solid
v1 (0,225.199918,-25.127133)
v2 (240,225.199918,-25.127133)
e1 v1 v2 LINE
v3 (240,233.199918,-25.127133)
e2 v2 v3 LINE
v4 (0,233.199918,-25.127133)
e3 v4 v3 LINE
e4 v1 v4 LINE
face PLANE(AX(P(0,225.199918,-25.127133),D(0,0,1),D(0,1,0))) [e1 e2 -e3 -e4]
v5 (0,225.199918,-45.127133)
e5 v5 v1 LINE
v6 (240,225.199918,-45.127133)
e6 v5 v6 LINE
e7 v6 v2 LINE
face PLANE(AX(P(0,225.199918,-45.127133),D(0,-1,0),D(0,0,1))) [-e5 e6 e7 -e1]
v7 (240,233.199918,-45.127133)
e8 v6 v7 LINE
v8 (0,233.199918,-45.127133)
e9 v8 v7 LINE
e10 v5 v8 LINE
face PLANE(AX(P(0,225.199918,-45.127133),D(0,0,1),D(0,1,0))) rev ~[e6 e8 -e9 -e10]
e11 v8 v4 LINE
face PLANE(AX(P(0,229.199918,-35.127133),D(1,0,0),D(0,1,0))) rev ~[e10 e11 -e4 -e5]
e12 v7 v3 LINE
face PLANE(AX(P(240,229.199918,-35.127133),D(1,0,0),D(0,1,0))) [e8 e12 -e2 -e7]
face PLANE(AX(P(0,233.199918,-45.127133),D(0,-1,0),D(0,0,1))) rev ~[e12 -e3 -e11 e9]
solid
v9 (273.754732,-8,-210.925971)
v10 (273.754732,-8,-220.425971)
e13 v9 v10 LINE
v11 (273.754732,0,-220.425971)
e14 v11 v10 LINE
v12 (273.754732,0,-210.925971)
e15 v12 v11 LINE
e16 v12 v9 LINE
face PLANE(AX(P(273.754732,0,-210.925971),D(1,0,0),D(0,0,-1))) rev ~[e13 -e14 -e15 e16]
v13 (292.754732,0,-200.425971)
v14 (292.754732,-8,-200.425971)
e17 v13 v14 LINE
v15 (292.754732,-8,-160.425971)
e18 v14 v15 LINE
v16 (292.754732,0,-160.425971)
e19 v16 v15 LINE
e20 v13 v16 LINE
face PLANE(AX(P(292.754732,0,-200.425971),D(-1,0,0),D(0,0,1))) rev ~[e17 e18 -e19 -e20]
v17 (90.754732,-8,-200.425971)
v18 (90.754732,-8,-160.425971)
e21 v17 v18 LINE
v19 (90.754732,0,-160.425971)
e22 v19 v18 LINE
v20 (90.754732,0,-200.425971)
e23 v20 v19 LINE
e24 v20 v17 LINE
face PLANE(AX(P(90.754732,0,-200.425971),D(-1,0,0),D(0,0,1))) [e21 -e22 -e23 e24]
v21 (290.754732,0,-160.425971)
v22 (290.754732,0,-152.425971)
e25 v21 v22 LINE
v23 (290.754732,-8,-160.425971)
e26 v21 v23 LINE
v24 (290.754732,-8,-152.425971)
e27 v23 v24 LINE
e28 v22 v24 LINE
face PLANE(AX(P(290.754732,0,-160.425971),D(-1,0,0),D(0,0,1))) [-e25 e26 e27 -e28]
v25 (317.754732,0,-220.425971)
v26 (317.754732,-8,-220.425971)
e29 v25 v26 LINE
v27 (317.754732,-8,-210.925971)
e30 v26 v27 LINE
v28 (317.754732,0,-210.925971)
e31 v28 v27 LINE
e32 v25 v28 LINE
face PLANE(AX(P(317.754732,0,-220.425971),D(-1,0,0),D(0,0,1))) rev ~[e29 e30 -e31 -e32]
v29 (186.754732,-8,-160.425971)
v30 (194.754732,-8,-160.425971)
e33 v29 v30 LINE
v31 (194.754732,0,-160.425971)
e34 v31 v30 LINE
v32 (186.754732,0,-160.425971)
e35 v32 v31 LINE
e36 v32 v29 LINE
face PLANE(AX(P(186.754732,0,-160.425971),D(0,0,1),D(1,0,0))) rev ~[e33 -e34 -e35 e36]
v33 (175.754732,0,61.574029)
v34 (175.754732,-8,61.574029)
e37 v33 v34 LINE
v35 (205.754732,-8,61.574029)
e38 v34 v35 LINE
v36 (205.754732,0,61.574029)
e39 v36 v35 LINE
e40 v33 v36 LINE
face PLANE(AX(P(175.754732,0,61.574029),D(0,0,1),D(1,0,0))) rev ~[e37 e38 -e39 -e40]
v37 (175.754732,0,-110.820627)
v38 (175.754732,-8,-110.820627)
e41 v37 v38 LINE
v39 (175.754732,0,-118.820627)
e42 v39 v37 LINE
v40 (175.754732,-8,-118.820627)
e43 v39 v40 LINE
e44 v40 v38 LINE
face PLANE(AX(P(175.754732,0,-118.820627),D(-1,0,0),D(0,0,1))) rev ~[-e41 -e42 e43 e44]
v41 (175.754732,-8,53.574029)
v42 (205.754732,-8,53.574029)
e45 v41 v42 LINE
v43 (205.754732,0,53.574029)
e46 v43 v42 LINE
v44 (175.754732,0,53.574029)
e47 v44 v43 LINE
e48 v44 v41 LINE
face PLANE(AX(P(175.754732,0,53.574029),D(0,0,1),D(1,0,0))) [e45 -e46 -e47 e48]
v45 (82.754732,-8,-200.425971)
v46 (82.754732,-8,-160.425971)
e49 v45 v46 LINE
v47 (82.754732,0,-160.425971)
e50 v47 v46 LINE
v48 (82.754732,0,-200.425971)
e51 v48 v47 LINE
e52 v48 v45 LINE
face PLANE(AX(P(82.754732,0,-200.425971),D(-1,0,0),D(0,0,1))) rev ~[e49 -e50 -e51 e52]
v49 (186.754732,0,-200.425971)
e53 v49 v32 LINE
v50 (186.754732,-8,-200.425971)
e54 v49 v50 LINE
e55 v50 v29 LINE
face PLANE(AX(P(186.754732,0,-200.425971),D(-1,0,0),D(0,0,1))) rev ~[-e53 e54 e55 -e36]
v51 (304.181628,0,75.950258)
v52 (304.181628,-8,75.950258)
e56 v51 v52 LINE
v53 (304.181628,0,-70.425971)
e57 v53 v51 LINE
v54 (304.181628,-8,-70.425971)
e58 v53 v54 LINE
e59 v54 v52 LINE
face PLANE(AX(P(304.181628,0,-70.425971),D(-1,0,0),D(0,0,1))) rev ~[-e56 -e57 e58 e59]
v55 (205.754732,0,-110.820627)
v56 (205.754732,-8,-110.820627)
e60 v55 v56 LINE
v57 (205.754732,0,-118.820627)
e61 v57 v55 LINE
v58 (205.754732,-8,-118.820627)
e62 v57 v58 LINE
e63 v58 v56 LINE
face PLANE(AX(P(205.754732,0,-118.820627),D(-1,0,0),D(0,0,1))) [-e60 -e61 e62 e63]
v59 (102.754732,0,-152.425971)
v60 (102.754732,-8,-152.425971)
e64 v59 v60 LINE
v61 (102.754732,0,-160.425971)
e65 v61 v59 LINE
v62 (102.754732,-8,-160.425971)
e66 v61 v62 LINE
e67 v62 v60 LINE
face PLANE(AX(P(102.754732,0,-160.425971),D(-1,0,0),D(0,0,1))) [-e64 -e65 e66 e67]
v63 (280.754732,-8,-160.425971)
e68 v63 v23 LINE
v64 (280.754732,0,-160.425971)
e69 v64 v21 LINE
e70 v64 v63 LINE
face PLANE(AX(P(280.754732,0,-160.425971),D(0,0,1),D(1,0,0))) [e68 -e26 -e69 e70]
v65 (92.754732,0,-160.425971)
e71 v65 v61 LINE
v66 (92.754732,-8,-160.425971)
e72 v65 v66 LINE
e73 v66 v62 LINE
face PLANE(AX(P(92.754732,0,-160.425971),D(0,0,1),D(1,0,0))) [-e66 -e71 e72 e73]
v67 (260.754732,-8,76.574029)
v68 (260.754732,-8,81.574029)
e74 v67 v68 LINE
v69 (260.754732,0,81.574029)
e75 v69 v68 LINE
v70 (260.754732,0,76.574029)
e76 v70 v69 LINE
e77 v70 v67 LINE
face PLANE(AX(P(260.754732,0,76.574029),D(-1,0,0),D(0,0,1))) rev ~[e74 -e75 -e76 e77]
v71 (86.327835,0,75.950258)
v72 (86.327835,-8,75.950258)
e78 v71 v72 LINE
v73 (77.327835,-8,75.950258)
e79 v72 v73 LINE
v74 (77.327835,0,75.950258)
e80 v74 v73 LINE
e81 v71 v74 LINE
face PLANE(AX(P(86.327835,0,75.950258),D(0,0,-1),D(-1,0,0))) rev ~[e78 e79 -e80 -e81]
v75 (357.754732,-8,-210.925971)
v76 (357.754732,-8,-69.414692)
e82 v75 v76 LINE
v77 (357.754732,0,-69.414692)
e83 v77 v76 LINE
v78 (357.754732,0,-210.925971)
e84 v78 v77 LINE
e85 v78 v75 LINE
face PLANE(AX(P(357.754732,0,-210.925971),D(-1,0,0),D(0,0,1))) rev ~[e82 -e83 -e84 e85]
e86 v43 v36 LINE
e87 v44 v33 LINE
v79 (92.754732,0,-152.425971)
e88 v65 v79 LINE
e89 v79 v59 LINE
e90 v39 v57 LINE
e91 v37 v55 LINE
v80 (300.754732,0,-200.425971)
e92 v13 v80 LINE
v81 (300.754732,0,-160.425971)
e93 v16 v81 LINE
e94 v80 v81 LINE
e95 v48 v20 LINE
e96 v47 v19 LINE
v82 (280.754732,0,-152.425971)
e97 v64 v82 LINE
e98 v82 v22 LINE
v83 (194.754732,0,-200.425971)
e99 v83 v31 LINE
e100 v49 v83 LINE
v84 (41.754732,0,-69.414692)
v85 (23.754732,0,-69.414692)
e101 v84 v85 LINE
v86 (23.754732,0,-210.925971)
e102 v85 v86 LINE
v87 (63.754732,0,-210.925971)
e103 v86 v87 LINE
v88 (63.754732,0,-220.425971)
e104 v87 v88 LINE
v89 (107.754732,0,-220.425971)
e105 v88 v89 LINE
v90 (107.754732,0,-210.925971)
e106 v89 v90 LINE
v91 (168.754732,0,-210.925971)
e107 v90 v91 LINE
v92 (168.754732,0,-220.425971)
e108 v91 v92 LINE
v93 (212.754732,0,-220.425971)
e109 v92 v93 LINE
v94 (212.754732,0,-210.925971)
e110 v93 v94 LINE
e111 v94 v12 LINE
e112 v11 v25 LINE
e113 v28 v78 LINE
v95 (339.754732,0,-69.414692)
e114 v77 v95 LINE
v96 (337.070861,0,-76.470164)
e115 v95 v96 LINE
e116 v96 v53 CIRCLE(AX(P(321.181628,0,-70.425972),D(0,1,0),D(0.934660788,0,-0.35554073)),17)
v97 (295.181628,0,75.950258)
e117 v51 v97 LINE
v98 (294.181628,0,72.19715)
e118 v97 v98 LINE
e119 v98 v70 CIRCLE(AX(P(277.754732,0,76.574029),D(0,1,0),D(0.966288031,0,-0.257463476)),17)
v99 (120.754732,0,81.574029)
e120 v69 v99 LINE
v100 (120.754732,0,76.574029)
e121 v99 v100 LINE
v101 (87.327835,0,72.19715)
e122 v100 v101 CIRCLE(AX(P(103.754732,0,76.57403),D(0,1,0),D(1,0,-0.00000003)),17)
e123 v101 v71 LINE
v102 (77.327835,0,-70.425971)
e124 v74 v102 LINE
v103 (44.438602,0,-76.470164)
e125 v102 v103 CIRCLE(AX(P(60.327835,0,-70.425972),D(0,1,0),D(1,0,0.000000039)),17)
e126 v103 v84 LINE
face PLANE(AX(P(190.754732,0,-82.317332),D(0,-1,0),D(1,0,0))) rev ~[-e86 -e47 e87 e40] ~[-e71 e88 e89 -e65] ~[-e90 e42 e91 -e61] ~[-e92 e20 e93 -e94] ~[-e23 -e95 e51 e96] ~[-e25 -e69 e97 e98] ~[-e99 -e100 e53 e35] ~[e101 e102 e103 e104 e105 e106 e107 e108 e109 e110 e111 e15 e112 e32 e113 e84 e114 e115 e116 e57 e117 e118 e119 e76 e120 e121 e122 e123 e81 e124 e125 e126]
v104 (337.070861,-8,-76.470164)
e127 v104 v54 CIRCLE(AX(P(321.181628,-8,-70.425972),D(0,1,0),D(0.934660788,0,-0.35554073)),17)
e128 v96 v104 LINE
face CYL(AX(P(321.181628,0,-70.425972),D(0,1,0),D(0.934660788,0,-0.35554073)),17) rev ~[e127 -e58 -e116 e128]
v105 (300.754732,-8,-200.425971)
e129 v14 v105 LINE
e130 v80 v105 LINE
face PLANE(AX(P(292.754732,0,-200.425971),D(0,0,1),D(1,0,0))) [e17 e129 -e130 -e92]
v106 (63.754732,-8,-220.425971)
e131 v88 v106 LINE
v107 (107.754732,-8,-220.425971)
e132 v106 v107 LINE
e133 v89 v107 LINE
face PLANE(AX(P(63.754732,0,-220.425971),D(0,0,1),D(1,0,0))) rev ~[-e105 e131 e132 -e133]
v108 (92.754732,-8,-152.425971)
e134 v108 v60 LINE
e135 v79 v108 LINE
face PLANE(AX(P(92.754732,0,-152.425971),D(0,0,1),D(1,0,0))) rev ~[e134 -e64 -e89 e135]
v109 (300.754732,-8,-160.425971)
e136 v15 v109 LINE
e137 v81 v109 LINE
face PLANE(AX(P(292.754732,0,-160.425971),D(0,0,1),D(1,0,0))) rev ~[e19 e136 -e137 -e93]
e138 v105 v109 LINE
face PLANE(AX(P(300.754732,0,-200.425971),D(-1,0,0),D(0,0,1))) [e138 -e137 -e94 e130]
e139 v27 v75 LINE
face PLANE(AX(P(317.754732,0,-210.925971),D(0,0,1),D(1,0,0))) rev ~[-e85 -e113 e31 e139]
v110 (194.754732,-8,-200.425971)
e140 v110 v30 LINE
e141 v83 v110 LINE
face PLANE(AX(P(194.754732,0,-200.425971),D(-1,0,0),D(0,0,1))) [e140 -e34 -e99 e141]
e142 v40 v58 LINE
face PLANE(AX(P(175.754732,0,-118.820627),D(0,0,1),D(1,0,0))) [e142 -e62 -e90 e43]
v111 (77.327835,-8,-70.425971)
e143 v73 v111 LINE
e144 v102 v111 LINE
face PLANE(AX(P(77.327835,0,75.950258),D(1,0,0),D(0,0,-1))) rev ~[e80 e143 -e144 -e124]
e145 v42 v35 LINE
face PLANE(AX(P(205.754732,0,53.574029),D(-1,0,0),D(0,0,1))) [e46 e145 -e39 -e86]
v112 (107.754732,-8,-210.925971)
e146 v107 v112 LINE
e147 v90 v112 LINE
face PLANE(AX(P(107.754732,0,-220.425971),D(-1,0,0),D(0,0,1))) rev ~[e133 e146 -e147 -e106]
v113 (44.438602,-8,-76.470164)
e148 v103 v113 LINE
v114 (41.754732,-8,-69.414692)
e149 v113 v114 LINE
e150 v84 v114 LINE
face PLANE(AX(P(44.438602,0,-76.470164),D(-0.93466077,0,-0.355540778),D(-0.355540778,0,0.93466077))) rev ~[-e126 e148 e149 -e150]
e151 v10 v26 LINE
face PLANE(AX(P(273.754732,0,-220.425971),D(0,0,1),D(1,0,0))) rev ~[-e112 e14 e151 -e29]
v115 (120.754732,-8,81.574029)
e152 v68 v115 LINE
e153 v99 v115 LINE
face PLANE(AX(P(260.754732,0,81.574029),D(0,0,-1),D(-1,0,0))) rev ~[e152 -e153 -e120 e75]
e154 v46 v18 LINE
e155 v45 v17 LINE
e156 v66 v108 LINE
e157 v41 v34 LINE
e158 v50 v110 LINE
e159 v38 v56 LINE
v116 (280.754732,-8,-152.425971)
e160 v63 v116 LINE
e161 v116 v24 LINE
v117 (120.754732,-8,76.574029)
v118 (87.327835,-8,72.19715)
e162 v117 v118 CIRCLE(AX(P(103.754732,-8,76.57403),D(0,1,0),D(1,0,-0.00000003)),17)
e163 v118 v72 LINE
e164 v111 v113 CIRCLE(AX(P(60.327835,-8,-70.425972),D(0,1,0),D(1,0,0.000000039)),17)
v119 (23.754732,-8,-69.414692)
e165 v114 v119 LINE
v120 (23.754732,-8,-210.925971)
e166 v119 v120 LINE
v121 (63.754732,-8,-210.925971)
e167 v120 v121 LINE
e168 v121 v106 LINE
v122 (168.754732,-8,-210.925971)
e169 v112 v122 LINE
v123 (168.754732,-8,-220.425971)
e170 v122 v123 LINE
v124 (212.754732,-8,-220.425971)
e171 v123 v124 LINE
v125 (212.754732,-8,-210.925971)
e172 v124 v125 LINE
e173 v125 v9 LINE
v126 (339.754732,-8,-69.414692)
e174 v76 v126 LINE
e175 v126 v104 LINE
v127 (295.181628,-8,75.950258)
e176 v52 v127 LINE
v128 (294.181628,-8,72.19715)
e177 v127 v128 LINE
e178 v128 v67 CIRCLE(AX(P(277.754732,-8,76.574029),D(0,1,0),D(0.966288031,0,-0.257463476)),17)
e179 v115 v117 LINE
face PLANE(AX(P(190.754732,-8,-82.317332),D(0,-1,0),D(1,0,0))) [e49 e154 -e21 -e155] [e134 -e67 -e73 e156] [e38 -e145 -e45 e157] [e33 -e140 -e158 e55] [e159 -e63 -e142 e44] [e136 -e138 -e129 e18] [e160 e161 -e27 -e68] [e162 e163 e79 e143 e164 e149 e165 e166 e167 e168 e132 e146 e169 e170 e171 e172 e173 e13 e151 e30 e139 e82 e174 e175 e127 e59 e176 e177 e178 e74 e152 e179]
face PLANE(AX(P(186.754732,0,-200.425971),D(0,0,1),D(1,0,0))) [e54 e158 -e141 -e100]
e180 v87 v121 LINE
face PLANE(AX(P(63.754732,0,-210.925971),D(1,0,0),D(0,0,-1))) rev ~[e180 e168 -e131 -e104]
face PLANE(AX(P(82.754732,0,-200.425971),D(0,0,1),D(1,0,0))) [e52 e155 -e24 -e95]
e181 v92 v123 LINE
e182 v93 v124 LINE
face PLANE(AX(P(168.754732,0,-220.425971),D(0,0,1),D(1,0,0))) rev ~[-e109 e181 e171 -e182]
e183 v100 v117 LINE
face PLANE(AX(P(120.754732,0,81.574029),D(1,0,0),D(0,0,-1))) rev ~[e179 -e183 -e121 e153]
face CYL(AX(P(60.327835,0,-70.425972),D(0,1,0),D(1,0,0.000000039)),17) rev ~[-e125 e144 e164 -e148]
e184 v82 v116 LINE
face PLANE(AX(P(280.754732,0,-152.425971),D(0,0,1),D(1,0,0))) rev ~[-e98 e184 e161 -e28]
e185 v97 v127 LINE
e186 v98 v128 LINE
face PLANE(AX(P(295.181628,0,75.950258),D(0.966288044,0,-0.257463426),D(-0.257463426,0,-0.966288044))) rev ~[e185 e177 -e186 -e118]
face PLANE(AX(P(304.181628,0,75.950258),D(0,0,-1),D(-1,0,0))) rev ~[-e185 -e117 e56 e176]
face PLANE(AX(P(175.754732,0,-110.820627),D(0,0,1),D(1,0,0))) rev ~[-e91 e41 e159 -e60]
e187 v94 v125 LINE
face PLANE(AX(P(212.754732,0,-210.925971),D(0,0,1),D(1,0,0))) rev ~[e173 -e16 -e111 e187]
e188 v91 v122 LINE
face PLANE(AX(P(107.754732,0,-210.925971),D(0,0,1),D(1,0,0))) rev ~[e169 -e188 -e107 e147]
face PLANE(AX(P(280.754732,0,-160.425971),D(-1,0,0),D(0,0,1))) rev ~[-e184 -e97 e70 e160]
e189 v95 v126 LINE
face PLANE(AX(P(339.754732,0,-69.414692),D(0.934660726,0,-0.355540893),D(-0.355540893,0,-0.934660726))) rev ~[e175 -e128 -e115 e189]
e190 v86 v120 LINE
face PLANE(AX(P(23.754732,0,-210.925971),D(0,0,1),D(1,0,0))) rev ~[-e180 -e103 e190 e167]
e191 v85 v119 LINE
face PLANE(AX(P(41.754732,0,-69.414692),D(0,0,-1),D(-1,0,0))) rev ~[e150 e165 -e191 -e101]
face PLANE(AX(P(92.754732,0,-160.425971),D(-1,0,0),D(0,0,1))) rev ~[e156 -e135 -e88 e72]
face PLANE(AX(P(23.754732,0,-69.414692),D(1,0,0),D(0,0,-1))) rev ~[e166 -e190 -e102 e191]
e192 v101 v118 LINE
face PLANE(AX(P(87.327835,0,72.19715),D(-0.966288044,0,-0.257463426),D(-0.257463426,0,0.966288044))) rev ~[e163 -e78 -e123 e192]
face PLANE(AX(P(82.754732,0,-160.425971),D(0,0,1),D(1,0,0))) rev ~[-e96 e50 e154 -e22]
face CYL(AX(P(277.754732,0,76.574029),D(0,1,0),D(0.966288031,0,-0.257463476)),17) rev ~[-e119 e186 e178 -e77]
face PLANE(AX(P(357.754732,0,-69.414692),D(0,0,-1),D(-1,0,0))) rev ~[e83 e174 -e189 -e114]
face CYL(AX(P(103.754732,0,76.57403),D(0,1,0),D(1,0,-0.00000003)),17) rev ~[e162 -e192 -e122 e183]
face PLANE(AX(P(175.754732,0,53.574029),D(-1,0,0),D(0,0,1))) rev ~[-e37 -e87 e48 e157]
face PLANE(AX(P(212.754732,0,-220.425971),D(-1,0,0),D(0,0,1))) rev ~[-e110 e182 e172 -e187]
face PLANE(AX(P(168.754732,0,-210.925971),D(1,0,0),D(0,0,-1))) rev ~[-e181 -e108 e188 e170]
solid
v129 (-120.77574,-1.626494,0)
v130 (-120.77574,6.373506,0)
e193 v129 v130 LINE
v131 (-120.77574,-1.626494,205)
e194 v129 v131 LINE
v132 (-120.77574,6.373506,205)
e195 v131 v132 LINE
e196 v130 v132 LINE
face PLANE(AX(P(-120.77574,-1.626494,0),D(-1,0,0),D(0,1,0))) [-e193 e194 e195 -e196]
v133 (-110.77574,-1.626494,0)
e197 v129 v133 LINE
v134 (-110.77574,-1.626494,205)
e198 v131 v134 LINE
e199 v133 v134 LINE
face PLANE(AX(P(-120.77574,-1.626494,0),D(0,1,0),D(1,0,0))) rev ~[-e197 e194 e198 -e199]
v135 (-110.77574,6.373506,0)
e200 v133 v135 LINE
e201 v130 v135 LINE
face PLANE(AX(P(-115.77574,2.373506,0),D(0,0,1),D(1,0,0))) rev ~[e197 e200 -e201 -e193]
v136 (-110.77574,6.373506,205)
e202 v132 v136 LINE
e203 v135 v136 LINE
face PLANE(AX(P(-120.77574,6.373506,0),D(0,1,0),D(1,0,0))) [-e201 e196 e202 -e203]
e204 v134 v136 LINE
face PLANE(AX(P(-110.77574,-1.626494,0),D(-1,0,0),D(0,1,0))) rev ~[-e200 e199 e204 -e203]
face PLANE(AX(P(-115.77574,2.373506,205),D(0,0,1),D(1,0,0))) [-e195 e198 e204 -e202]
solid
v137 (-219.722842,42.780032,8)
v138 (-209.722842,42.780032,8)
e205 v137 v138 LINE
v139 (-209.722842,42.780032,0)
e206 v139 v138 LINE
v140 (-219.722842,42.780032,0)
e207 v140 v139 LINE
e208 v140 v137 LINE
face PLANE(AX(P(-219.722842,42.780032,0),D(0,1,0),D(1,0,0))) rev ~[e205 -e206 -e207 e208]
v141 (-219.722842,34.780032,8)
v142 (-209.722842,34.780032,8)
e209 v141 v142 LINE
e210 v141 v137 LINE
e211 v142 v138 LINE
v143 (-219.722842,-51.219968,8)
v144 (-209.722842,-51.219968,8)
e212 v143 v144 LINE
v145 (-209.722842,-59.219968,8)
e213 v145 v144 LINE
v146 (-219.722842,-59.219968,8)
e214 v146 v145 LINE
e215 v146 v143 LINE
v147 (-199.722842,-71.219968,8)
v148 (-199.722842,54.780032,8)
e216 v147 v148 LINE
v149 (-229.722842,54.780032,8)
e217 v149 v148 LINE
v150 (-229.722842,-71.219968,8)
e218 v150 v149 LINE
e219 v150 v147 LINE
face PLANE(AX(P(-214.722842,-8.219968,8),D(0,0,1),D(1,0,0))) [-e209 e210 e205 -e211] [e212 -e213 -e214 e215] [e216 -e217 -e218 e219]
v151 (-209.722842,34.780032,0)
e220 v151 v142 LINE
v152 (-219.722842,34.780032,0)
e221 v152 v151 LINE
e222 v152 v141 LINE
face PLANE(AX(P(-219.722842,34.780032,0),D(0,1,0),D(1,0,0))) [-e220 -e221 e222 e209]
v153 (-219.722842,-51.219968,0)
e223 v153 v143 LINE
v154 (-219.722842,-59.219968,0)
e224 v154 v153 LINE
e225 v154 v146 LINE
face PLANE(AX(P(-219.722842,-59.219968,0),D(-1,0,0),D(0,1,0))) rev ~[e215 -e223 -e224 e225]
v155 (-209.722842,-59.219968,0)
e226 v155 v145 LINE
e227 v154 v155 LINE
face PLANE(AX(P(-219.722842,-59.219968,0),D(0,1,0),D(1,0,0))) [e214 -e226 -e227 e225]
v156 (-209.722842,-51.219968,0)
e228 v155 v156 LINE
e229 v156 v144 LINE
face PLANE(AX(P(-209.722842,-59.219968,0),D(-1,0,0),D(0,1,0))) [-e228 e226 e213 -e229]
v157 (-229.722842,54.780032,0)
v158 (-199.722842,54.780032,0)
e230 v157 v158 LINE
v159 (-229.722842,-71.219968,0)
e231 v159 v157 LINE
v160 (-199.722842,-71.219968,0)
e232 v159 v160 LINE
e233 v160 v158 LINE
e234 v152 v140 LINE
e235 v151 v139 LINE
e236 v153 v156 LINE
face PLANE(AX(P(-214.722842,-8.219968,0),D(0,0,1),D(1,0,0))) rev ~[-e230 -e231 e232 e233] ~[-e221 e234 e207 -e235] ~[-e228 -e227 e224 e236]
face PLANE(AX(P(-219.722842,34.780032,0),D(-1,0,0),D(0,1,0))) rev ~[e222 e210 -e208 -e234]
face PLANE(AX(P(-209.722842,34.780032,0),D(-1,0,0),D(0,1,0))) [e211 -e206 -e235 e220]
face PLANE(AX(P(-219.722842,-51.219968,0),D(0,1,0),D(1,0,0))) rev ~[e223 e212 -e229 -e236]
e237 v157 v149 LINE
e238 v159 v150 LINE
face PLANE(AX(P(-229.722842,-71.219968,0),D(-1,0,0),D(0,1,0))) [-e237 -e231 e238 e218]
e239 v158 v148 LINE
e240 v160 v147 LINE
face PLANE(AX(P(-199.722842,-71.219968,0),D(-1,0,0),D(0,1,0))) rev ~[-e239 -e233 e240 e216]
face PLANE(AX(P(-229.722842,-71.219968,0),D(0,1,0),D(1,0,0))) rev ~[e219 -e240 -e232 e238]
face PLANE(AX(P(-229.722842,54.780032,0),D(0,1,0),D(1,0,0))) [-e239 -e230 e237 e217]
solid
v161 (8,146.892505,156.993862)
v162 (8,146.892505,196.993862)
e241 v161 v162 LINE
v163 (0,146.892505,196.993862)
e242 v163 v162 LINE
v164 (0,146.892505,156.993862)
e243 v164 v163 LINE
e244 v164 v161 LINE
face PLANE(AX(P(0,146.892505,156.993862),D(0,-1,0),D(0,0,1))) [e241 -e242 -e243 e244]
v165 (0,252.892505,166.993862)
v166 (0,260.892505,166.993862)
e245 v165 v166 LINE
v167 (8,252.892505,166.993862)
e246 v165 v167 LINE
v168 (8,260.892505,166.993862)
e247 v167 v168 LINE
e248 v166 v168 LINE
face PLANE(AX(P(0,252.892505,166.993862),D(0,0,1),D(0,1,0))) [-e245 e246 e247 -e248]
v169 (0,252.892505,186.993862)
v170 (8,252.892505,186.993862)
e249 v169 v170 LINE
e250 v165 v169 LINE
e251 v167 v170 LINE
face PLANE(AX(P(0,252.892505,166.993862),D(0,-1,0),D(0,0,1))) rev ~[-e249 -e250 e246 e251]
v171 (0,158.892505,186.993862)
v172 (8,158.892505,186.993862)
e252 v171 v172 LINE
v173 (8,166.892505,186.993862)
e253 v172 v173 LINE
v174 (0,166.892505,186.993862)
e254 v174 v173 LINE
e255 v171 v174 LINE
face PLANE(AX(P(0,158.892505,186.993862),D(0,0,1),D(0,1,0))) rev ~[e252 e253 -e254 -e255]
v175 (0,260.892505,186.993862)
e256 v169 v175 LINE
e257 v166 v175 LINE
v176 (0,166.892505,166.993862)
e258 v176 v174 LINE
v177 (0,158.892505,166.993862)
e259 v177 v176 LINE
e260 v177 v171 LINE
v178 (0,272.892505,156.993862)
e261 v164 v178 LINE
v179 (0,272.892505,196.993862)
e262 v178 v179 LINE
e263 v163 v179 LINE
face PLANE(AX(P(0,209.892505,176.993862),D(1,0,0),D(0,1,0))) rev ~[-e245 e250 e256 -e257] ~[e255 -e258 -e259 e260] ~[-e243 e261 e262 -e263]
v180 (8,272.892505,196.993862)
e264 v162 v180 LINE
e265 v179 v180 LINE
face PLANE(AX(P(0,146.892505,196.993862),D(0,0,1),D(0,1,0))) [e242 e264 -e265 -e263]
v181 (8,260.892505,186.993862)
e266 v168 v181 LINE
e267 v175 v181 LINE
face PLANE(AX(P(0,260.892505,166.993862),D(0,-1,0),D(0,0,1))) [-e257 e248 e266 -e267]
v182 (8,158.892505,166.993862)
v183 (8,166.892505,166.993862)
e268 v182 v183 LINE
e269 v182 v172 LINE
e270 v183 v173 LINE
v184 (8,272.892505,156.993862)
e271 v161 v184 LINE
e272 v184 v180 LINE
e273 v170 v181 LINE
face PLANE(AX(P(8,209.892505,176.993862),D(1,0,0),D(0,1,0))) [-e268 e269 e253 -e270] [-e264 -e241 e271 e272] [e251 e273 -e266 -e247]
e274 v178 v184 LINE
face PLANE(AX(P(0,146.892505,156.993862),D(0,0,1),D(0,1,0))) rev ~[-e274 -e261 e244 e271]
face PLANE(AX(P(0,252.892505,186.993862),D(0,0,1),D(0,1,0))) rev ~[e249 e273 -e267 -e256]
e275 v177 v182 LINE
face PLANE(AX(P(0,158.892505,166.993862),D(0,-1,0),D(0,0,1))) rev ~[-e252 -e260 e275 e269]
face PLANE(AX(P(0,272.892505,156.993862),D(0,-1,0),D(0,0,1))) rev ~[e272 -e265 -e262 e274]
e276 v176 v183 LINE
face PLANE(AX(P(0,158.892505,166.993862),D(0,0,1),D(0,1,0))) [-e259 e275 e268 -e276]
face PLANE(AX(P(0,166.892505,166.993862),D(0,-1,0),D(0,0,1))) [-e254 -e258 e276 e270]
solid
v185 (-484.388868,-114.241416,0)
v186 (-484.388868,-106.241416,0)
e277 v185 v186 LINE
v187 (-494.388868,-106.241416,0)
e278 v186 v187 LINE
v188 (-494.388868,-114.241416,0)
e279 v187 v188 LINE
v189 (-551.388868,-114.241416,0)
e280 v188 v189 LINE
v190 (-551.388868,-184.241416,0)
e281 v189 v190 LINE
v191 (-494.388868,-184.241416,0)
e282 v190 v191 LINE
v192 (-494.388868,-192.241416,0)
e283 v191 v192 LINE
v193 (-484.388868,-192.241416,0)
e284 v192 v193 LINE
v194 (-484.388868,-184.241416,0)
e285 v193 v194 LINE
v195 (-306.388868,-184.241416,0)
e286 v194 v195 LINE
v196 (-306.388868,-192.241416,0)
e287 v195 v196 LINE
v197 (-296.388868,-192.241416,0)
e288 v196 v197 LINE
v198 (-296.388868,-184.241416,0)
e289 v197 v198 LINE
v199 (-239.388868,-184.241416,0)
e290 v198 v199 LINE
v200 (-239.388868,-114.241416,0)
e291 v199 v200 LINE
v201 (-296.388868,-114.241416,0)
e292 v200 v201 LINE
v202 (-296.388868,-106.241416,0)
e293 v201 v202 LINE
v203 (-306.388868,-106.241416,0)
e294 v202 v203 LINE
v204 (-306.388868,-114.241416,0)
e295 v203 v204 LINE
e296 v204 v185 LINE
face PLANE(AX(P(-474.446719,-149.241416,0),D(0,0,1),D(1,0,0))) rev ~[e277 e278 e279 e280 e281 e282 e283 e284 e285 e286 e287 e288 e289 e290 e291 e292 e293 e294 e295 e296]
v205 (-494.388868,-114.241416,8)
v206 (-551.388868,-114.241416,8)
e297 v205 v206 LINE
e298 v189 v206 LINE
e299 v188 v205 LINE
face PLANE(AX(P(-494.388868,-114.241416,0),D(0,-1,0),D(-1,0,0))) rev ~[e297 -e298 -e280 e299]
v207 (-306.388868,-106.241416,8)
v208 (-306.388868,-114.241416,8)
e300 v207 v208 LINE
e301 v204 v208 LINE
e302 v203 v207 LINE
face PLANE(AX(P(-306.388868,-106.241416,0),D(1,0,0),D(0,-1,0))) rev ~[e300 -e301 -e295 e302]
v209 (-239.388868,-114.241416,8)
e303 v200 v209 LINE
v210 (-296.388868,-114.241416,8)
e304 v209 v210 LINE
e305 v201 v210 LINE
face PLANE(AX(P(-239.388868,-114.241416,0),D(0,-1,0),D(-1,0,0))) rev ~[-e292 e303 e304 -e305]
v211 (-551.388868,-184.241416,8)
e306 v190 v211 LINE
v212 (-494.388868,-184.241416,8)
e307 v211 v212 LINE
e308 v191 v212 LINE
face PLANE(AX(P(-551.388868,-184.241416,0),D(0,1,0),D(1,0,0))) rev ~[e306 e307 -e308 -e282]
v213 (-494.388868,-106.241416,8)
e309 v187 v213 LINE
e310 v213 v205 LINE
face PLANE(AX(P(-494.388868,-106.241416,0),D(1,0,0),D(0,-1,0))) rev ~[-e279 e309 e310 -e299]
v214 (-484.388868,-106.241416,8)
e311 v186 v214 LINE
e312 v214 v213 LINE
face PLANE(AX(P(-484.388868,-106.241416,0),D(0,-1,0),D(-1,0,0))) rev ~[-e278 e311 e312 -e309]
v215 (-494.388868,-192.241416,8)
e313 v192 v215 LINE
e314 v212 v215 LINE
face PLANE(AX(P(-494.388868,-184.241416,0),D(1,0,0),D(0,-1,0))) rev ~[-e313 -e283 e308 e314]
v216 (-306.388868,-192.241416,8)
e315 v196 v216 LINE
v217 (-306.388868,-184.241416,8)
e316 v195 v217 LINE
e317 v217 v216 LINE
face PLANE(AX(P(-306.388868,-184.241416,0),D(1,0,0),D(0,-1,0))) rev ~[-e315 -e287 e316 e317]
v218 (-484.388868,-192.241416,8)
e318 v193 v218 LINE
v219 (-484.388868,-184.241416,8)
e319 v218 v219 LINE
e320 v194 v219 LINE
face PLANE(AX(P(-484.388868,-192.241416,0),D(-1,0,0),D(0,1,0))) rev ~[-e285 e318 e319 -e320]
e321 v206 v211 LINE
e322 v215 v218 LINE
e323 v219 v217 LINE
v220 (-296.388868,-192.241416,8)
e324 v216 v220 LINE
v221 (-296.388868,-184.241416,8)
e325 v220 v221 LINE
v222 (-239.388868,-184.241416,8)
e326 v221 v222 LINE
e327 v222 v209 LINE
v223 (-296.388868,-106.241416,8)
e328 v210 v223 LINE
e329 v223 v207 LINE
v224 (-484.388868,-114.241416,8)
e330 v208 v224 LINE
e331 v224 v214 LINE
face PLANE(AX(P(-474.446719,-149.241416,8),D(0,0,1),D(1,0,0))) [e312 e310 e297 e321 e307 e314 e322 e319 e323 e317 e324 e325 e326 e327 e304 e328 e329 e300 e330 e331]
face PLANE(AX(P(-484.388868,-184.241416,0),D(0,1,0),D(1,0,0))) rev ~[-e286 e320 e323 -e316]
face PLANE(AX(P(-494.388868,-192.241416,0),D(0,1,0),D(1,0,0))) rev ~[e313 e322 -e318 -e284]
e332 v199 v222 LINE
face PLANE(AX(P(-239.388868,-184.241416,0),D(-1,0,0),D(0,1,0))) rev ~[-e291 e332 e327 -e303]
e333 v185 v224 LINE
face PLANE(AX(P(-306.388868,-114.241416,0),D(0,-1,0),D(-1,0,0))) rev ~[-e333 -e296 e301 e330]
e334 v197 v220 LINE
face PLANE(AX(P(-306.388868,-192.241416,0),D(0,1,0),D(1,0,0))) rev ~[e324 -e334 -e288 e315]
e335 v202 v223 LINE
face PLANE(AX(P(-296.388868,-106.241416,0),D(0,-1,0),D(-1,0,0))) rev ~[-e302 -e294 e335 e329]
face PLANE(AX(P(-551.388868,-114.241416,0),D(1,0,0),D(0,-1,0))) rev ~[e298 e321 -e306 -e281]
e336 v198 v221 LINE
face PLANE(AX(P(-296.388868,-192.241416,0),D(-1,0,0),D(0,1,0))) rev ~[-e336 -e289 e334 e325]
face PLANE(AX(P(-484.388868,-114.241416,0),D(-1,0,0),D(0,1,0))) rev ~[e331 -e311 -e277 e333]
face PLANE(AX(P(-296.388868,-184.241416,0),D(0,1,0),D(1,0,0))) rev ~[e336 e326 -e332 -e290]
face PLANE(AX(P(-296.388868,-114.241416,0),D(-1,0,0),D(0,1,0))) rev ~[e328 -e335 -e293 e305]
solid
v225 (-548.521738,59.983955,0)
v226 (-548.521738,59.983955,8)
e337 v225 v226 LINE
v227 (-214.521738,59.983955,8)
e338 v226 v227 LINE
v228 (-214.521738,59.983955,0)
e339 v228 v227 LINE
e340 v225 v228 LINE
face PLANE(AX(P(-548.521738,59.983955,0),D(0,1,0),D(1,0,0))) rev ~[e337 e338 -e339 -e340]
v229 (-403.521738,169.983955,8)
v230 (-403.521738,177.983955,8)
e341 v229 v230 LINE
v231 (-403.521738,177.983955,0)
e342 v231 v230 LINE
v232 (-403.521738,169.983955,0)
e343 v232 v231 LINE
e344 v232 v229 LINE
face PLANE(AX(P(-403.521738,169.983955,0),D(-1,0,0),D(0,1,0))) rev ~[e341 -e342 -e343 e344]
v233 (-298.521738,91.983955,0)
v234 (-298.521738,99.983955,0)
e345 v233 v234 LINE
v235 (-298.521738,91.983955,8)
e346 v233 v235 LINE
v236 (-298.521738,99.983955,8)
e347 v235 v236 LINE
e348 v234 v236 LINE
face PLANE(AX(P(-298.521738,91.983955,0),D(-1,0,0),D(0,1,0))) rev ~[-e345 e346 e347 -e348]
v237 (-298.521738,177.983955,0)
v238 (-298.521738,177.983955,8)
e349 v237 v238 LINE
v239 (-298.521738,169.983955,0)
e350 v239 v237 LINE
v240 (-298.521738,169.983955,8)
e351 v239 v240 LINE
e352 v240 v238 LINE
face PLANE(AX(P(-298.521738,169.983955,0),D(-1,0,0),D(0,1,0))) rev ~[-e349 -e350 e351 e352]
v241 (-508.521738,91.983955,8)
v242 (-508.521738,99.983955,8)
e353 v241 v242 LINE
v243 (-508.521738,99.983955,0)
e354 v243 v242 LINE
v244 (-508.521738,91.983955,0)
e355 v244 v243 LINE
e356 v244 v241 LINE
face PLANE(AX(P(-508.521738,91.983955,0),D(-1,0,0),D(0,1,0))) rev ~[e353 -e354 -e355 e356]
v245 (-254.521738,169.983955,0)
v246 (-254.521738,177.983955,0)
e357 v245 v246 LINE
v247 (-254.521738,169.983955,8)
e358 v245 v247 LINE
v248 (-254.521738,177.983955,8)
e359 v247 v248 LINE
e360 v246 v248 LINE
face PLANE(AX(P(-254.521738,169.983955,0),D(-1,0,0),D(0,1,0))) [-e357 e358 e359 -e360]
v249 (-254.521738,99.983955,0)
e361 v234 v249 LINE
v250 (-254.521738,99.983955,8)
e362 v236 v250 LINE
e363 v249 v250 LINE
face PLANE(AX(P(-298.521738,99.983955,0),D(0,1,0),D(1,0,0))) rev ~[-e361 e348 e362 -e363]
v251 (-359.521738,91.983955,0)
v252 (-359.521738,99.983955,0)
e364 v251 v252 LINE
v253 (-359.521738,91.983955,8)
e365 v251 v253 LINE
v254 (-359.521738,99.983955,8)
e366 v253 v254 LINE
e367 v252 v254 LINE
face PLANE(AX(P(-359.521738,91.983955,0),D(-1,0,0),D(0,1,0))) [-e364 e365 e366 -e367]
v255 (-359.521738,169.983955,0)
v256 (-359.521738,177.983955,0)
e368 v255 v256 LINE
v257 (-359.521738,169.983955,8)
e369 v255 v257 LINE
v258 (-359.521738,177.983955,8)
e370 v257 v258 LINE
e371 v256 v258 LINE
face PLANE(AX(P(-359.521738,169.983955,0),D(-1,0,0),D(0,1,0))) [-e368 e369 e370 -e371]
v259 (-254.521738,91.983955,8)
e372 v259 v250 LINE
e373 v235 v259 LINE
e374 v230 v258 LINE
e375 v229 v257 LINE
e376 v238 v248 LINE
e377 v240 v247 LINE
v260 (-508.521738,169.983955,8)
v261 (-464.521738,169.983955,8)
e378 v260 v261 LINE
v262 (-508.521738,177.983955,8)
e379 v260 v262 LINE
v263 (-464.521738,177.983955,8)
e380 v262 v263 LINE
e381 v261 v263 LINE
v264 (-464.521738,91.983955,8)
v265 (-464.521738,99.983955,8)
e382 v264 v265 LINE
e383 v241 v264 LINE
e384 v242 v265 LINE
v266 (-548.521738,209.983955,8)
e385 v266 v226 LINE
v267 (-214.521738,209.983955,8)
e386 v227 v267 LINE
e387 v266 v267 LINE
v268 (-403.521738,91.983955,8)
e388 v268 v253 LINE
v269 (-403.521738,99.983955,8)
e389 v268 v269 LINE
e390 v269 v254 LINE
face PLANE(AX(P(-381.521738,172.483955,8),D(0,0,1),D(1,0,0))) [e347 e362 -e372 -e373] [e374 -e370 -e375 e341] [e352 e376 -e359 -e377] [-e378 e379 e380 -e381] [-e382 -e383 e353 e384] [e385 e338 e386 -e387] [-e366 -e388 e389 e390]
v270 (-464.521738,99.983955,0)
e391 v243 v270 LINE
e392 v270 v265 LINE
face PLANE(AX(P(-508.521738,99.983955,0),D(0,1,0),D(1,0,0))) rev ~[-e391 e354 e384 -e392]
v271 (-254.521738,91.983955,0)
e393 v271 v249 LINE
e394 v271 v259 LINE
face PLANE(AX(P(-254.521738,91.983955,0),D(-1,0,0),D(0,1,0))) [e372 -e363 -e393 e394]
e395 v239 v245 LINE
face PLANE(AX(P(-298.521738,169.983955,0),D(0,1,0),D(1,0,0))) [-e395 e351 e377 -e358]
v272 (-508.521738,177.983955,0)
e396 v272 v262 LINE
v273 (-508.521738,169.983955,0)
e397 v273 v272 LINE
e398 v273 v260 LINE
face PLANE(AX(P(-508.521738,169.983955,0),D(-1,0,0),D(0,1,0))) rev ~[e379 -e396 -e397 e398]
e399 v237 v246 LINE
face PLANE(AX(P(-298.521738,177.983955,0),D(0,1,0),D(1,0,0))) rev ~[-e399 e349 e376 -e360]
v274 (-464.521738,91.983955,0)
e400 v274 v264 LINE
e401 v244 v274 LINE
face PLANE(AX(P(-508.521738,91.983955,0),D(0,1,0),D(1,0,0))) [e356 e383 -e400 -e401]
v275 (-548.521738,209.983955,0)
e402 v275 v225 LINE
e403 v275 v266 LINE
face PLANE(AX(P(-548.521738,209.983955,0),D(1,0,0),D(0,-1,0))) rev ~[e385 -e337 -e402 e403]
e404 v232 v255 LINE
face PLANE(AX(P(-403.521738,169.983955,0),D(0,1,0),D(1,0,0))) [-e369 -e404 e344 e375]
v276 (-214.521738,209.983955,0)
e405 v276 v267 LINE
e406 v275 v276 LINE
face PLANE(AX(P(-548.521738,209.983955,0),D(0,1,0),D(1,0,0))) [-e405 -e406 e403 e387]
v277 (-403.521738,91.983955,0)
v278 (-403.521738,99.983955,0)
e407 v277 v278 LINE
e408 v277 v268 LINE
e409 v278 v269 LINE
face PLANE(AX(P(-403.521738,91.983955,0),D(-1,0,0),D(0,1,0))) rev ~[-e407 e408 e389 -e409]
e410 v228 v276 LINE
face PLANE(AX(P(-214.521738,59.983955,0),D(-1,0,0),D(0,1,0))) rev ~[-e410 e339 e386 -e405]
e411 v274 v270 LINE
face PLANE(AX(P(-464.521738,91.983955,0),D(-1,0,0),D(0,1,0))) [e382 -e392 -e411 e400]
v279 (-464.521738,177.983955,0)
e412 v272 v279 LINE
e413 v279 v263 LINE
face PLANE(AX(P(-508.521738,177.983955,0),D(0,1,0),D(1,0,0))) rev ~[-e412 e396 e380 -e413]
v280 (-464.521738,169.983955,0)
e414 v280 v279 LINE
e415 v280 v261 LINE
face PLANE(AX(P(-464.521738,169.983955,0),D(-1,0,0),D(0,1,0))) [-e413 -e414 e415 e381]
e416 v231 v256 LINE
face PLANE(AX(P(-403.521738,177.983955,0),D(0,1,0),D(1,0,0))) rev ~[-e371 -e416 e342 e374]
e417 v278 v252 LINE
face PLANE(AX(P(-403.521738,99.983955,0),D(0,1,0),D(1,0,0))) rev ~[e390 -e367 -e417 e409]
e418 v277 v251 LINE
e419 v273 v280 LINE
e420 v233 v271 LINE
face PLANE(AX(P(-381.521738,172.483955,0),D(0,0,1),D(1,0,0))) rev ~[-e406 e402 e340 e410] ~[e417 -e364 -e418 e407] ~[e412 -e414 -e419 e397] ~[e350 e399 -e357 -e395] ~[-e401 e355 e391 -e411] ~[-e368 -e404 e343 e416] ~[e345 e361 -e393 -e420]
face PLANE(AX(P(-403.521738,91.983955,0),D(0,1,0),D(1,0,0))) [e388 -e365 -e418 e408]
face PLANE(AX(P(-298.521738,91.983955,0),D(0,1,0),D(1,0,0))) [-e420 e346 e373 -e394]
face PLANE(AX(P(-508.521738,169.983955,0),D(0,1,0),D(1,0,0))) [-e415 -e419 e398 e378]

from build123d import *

# Parameters (mm, degrees)
F0_W      = 8
F0_H      = 40
F0_W_2    = 10
F0_H_2    = 8
F0_W_3    = 30
F1_DEPTH  = 8
F2_W      = 30
F2_H      = 126
F2_W_2    = 10
F2_H_2    = 8
F3_DEPTH  = 8
F4_W      = 126
F4_H      = 40
F4_W_2    = 8
F4_H_2    = 20
F5_DEPTH  = 8
F6_W      = 8
F6_H      = 20
F7_DEPTH  = 240
F8_W      = 10
F8_H      = 8
F9_DEPTH  = 205
F11_DEPTH = 8
F12_W     = 334
F12_H     = 75
F12_W_2   = 44
F12_H_2   = 8
F13_DEPTH = 8


with BuildPart() as f1:
    # F0 (on Front) → F1 (new body)
    with BuildSketch(Plane.XZ):
        with BuildLine():
            Line((168.754732, -220.425971), (190.754732, -220.425971))
            Line((190.754732, -220.425971), (212.754732, -220.425971))
            Line((212.754732, -220.425971), (212.754732, -210.925971))
            Line((212.754732, -210.925971), (273.754732, -210.925971))
            Line((273.754732, -210.925971), (273.754732, -220.425971))
            Line((273.754732, -220.425971), (317.754732, -220.425971))
            Line((317.754732, -220.425971), (317.754732, -210.925971))
            Line((317.754732, -210.925971), (357.754732, -210.925971))
            Line((357.754732, -210.925971), (357.754732, -69.414692))
            Line((357.754732, -69.414692), (339.754732, -69.414692))
            Line((339.754732, -69.414692), (337.070861, -76.470164))
            ThreePointArc((337.070861, -76.470164), (318.108923, -87.145974), (304.181628, -70.425971))
            Line((304.181628, -70.425971), (304.181628, 75.950258))
            Line((304.181628, 75.950258), (295.181628, 75.950258))
            Line((295.181628, 75.950258), (294.181628, 72.19715))
            ThreePointArc((294.181628, 72.19715), (275.547612, 59.717914), (260.754732, 76.574029))
            Line((260.754732, 76.574029), (260.754732, 81.574029))
            Line((260.754732, 81.574029), (190.754732, 81.574029))
            Line((190.754732, 81.574029), (120.754732, 81.574029))
            Line((120.754732, 81.574029), (120.754732, 76.574029))
            ThreePointArc((120.754732, 76.574029), (105.961852, 59.717914), (87.327835, 72.19715))
            Line((87.327835, 72.19715), (86.327835, 75.950258))
            Line((86.327835, 75.950258), (77.327835, 75.950258))
            Line((77.327835, 75.950258), (77.327835, -70.425971))
            ThreePointArc((77.327835, -70.425971), (63.40054, -87.145974), (44.438602, -76.470164))
            Line((44.438602, -76.470164), (41.754732, -69.414692))
            Line((41.754732, -69.414692), (23.754732, -69.414692))
            Line((23.754732, -69.414692), (23.754732, -210.925971))
            Line((23.754732, -210.925971), (63.754732, -210.925971))
            Line((63.754732, -210.925971), (63.754732, -220.425971))
            Line((63.754732, -220.425971), (107.754732, -220.425971))
            Line((107.754732, -220.425971), (107.754732, -210.925971))
            Line((107.754732, -210.925971), (168.754732, -210.925971))
            Line((168.754732, -210.925971), (168.754732, -220.425971))
        make_face()
        with Locations((86.754732, -180.425971)):
            Rectangle(F0_W, F0_H, mode=Mode.SUBTRACT)
        with Locations((97.754732, -156.425971)):
            Rectangle(F0_W_2, F0_H_2, mode=Mode.SUBTRACT)
        with Locations((190.754732, -114.820627)):
            Rectangle(F0_W_3, F0_H_2, mode=Mode.SUBTRACT)
        with Locations((190.754732, -180.425971)):
            Rectangle(F0_W, F0_H, mode=Mode.SUBTRACT)
        with Locations((296.754732, -180.425971)):
            Rectangle(F0_W, F0_H, mode=Mode.SUBTRACT)
        with Locations((285.754732, -156.425971)):
            Rectangle(F0_W_2, F0_H_2, mode=Mode.SUBTRACT)
        with Locations((190.754732, 57.574029)):
            Rectangle(F0_W_3, F0_H_2, mode=Mode.SUBTRACT)
    extrude(amount=F1_DEPTH)


with BuildPart() as f3:
    # F2 (on Top) → F3 (new body)
    with BuildSketch(Plane.XY):
        with Locations((-214.722842, -8.219968)):
            Rectangle(F2_W, F2_H)
        with Locations((-214.722842, -55.219968)):
            Rectangle(F2_W_2, F2_H_2, mode=Mode.SUBTRACT)
        with Locations((-214.722842, 38.780032)):
            Rectangle(F2_W_2, F2_H_2, mode=Mode.SUBTRACT)
    extrude(amount=F3_DEPTH)


with BuildPart() as f5:
    # F4 (on Right) → F5 (new body)
    with BuildSketch(Plane.YZ):
        with Locations((209.892505, 176.993862)):
            Rectangle(F4_W, F4_H)
        with Locations((256.892505, 176.993862)):
            Rectangle(F4_W_2, F4_H_2, mode=Mode.SUBTRACT)
        with Locations((162.892505, 176.993862)):
            Rectangle(F4_W_2, F4_H_2, mode=Mode.SUBTRACT)
    extrude(amount=F5_DEPTH)


with BuildPart() as f7:
    # F6 (on Right) → F7 (new body)
    with BuildSketch(Plane.YZ):
        with Locations((229.199918, -35.127133)):
            Rectangle(F6_W, F6_H)
    extrude(amount=F7_DEPTH)


with BuildPart() as f9:
    # F8 (on Top) → F9 (new body)
    with BuildSketch(Plane.XY):
        with Locations((-115.77574, 2.373506)):
            Rectangle(F8_W, F8_H)
    extrude(amount=F9_DEPTH)


with BuildPart() as f11:
    # F10 (on Top) → F11 (new body)
    with BuildSketch(Plane.XY):
        Polygon((-494.388868, -114.241416), (-551.388868, -114.241416), (-551.388868, -184.241416), (-494.388868, -184.241416), (-494.388868, -192.241416), (-484.388868, -192.241416), (-484.388868, -184.241416), (-395.388868, -184.241416), (-395.388868, -114.241416), (-484.388868, -114.241416), (-484.388868, -106.241416), (-494.388868, -106.241416), align=None)
        Polygon((-306.388868, -114.241416), (-395.388868, -114.241416), (-395.388868, -184.241416), (-306.388868, -184.241416), (-306.388868, -192.241416), (-296.388868, -192.241416), (-296.388868, -184.241416), (-239.388868, -184.241416), (-239.388868, -114.241416), (-296.388868, -114.241416), (-296.388868, -106.241416), (-306.388868, -106.241416), align=None)
    extrude(amount=F11_DEPTH)


with BuildPart() as f13:
    # F12 (on Top) → F13 (new body)
    with BuildSketch(Plane.XY):
        with Locations((-381.521738, 172.483955)):
            Rectangle(F12_W, F12_H)
        with Locations((-486.521738, 173.983955)):
            Rectangle(F12_W_2, F12_H_2, mode=Mode.SUBTRACT)
        with Locations((-381.521738, 173.983955)):
            Rectangle(F12_W_2, F12_H_2, mode=Mode.SUBTRACT)
        with Locations((-276.521738, 173.983955)):
            Rectangle(F12_W_2, F12_H_2, mode=Mode.SUBTRACT)
        with Locations((-381.521738, 97.483955)):
            Rectangle(F12_W, F12_H)
        with Locations((-486.521738, 95.983955)):
            Rectangle(F12_W_2, F12_H_2, mode=Mode.SUBTRACT)
        with Locations((-381.521738, 95.983955)):
            Rectangle(F12_W_2, F12_H_2, mode=Mode.SUBTRACT)
        with Locations((-276.521738, 95.983955)):
            Rectangle(F12_W_2, F12_H_2, mode=Mode.SUBTRACT)
    extrude(amount=F13_DEPTH)


solid = Compound([f1.part, f3.part, f5.part, f7.part, f9.part, f11.part, f13.part])
